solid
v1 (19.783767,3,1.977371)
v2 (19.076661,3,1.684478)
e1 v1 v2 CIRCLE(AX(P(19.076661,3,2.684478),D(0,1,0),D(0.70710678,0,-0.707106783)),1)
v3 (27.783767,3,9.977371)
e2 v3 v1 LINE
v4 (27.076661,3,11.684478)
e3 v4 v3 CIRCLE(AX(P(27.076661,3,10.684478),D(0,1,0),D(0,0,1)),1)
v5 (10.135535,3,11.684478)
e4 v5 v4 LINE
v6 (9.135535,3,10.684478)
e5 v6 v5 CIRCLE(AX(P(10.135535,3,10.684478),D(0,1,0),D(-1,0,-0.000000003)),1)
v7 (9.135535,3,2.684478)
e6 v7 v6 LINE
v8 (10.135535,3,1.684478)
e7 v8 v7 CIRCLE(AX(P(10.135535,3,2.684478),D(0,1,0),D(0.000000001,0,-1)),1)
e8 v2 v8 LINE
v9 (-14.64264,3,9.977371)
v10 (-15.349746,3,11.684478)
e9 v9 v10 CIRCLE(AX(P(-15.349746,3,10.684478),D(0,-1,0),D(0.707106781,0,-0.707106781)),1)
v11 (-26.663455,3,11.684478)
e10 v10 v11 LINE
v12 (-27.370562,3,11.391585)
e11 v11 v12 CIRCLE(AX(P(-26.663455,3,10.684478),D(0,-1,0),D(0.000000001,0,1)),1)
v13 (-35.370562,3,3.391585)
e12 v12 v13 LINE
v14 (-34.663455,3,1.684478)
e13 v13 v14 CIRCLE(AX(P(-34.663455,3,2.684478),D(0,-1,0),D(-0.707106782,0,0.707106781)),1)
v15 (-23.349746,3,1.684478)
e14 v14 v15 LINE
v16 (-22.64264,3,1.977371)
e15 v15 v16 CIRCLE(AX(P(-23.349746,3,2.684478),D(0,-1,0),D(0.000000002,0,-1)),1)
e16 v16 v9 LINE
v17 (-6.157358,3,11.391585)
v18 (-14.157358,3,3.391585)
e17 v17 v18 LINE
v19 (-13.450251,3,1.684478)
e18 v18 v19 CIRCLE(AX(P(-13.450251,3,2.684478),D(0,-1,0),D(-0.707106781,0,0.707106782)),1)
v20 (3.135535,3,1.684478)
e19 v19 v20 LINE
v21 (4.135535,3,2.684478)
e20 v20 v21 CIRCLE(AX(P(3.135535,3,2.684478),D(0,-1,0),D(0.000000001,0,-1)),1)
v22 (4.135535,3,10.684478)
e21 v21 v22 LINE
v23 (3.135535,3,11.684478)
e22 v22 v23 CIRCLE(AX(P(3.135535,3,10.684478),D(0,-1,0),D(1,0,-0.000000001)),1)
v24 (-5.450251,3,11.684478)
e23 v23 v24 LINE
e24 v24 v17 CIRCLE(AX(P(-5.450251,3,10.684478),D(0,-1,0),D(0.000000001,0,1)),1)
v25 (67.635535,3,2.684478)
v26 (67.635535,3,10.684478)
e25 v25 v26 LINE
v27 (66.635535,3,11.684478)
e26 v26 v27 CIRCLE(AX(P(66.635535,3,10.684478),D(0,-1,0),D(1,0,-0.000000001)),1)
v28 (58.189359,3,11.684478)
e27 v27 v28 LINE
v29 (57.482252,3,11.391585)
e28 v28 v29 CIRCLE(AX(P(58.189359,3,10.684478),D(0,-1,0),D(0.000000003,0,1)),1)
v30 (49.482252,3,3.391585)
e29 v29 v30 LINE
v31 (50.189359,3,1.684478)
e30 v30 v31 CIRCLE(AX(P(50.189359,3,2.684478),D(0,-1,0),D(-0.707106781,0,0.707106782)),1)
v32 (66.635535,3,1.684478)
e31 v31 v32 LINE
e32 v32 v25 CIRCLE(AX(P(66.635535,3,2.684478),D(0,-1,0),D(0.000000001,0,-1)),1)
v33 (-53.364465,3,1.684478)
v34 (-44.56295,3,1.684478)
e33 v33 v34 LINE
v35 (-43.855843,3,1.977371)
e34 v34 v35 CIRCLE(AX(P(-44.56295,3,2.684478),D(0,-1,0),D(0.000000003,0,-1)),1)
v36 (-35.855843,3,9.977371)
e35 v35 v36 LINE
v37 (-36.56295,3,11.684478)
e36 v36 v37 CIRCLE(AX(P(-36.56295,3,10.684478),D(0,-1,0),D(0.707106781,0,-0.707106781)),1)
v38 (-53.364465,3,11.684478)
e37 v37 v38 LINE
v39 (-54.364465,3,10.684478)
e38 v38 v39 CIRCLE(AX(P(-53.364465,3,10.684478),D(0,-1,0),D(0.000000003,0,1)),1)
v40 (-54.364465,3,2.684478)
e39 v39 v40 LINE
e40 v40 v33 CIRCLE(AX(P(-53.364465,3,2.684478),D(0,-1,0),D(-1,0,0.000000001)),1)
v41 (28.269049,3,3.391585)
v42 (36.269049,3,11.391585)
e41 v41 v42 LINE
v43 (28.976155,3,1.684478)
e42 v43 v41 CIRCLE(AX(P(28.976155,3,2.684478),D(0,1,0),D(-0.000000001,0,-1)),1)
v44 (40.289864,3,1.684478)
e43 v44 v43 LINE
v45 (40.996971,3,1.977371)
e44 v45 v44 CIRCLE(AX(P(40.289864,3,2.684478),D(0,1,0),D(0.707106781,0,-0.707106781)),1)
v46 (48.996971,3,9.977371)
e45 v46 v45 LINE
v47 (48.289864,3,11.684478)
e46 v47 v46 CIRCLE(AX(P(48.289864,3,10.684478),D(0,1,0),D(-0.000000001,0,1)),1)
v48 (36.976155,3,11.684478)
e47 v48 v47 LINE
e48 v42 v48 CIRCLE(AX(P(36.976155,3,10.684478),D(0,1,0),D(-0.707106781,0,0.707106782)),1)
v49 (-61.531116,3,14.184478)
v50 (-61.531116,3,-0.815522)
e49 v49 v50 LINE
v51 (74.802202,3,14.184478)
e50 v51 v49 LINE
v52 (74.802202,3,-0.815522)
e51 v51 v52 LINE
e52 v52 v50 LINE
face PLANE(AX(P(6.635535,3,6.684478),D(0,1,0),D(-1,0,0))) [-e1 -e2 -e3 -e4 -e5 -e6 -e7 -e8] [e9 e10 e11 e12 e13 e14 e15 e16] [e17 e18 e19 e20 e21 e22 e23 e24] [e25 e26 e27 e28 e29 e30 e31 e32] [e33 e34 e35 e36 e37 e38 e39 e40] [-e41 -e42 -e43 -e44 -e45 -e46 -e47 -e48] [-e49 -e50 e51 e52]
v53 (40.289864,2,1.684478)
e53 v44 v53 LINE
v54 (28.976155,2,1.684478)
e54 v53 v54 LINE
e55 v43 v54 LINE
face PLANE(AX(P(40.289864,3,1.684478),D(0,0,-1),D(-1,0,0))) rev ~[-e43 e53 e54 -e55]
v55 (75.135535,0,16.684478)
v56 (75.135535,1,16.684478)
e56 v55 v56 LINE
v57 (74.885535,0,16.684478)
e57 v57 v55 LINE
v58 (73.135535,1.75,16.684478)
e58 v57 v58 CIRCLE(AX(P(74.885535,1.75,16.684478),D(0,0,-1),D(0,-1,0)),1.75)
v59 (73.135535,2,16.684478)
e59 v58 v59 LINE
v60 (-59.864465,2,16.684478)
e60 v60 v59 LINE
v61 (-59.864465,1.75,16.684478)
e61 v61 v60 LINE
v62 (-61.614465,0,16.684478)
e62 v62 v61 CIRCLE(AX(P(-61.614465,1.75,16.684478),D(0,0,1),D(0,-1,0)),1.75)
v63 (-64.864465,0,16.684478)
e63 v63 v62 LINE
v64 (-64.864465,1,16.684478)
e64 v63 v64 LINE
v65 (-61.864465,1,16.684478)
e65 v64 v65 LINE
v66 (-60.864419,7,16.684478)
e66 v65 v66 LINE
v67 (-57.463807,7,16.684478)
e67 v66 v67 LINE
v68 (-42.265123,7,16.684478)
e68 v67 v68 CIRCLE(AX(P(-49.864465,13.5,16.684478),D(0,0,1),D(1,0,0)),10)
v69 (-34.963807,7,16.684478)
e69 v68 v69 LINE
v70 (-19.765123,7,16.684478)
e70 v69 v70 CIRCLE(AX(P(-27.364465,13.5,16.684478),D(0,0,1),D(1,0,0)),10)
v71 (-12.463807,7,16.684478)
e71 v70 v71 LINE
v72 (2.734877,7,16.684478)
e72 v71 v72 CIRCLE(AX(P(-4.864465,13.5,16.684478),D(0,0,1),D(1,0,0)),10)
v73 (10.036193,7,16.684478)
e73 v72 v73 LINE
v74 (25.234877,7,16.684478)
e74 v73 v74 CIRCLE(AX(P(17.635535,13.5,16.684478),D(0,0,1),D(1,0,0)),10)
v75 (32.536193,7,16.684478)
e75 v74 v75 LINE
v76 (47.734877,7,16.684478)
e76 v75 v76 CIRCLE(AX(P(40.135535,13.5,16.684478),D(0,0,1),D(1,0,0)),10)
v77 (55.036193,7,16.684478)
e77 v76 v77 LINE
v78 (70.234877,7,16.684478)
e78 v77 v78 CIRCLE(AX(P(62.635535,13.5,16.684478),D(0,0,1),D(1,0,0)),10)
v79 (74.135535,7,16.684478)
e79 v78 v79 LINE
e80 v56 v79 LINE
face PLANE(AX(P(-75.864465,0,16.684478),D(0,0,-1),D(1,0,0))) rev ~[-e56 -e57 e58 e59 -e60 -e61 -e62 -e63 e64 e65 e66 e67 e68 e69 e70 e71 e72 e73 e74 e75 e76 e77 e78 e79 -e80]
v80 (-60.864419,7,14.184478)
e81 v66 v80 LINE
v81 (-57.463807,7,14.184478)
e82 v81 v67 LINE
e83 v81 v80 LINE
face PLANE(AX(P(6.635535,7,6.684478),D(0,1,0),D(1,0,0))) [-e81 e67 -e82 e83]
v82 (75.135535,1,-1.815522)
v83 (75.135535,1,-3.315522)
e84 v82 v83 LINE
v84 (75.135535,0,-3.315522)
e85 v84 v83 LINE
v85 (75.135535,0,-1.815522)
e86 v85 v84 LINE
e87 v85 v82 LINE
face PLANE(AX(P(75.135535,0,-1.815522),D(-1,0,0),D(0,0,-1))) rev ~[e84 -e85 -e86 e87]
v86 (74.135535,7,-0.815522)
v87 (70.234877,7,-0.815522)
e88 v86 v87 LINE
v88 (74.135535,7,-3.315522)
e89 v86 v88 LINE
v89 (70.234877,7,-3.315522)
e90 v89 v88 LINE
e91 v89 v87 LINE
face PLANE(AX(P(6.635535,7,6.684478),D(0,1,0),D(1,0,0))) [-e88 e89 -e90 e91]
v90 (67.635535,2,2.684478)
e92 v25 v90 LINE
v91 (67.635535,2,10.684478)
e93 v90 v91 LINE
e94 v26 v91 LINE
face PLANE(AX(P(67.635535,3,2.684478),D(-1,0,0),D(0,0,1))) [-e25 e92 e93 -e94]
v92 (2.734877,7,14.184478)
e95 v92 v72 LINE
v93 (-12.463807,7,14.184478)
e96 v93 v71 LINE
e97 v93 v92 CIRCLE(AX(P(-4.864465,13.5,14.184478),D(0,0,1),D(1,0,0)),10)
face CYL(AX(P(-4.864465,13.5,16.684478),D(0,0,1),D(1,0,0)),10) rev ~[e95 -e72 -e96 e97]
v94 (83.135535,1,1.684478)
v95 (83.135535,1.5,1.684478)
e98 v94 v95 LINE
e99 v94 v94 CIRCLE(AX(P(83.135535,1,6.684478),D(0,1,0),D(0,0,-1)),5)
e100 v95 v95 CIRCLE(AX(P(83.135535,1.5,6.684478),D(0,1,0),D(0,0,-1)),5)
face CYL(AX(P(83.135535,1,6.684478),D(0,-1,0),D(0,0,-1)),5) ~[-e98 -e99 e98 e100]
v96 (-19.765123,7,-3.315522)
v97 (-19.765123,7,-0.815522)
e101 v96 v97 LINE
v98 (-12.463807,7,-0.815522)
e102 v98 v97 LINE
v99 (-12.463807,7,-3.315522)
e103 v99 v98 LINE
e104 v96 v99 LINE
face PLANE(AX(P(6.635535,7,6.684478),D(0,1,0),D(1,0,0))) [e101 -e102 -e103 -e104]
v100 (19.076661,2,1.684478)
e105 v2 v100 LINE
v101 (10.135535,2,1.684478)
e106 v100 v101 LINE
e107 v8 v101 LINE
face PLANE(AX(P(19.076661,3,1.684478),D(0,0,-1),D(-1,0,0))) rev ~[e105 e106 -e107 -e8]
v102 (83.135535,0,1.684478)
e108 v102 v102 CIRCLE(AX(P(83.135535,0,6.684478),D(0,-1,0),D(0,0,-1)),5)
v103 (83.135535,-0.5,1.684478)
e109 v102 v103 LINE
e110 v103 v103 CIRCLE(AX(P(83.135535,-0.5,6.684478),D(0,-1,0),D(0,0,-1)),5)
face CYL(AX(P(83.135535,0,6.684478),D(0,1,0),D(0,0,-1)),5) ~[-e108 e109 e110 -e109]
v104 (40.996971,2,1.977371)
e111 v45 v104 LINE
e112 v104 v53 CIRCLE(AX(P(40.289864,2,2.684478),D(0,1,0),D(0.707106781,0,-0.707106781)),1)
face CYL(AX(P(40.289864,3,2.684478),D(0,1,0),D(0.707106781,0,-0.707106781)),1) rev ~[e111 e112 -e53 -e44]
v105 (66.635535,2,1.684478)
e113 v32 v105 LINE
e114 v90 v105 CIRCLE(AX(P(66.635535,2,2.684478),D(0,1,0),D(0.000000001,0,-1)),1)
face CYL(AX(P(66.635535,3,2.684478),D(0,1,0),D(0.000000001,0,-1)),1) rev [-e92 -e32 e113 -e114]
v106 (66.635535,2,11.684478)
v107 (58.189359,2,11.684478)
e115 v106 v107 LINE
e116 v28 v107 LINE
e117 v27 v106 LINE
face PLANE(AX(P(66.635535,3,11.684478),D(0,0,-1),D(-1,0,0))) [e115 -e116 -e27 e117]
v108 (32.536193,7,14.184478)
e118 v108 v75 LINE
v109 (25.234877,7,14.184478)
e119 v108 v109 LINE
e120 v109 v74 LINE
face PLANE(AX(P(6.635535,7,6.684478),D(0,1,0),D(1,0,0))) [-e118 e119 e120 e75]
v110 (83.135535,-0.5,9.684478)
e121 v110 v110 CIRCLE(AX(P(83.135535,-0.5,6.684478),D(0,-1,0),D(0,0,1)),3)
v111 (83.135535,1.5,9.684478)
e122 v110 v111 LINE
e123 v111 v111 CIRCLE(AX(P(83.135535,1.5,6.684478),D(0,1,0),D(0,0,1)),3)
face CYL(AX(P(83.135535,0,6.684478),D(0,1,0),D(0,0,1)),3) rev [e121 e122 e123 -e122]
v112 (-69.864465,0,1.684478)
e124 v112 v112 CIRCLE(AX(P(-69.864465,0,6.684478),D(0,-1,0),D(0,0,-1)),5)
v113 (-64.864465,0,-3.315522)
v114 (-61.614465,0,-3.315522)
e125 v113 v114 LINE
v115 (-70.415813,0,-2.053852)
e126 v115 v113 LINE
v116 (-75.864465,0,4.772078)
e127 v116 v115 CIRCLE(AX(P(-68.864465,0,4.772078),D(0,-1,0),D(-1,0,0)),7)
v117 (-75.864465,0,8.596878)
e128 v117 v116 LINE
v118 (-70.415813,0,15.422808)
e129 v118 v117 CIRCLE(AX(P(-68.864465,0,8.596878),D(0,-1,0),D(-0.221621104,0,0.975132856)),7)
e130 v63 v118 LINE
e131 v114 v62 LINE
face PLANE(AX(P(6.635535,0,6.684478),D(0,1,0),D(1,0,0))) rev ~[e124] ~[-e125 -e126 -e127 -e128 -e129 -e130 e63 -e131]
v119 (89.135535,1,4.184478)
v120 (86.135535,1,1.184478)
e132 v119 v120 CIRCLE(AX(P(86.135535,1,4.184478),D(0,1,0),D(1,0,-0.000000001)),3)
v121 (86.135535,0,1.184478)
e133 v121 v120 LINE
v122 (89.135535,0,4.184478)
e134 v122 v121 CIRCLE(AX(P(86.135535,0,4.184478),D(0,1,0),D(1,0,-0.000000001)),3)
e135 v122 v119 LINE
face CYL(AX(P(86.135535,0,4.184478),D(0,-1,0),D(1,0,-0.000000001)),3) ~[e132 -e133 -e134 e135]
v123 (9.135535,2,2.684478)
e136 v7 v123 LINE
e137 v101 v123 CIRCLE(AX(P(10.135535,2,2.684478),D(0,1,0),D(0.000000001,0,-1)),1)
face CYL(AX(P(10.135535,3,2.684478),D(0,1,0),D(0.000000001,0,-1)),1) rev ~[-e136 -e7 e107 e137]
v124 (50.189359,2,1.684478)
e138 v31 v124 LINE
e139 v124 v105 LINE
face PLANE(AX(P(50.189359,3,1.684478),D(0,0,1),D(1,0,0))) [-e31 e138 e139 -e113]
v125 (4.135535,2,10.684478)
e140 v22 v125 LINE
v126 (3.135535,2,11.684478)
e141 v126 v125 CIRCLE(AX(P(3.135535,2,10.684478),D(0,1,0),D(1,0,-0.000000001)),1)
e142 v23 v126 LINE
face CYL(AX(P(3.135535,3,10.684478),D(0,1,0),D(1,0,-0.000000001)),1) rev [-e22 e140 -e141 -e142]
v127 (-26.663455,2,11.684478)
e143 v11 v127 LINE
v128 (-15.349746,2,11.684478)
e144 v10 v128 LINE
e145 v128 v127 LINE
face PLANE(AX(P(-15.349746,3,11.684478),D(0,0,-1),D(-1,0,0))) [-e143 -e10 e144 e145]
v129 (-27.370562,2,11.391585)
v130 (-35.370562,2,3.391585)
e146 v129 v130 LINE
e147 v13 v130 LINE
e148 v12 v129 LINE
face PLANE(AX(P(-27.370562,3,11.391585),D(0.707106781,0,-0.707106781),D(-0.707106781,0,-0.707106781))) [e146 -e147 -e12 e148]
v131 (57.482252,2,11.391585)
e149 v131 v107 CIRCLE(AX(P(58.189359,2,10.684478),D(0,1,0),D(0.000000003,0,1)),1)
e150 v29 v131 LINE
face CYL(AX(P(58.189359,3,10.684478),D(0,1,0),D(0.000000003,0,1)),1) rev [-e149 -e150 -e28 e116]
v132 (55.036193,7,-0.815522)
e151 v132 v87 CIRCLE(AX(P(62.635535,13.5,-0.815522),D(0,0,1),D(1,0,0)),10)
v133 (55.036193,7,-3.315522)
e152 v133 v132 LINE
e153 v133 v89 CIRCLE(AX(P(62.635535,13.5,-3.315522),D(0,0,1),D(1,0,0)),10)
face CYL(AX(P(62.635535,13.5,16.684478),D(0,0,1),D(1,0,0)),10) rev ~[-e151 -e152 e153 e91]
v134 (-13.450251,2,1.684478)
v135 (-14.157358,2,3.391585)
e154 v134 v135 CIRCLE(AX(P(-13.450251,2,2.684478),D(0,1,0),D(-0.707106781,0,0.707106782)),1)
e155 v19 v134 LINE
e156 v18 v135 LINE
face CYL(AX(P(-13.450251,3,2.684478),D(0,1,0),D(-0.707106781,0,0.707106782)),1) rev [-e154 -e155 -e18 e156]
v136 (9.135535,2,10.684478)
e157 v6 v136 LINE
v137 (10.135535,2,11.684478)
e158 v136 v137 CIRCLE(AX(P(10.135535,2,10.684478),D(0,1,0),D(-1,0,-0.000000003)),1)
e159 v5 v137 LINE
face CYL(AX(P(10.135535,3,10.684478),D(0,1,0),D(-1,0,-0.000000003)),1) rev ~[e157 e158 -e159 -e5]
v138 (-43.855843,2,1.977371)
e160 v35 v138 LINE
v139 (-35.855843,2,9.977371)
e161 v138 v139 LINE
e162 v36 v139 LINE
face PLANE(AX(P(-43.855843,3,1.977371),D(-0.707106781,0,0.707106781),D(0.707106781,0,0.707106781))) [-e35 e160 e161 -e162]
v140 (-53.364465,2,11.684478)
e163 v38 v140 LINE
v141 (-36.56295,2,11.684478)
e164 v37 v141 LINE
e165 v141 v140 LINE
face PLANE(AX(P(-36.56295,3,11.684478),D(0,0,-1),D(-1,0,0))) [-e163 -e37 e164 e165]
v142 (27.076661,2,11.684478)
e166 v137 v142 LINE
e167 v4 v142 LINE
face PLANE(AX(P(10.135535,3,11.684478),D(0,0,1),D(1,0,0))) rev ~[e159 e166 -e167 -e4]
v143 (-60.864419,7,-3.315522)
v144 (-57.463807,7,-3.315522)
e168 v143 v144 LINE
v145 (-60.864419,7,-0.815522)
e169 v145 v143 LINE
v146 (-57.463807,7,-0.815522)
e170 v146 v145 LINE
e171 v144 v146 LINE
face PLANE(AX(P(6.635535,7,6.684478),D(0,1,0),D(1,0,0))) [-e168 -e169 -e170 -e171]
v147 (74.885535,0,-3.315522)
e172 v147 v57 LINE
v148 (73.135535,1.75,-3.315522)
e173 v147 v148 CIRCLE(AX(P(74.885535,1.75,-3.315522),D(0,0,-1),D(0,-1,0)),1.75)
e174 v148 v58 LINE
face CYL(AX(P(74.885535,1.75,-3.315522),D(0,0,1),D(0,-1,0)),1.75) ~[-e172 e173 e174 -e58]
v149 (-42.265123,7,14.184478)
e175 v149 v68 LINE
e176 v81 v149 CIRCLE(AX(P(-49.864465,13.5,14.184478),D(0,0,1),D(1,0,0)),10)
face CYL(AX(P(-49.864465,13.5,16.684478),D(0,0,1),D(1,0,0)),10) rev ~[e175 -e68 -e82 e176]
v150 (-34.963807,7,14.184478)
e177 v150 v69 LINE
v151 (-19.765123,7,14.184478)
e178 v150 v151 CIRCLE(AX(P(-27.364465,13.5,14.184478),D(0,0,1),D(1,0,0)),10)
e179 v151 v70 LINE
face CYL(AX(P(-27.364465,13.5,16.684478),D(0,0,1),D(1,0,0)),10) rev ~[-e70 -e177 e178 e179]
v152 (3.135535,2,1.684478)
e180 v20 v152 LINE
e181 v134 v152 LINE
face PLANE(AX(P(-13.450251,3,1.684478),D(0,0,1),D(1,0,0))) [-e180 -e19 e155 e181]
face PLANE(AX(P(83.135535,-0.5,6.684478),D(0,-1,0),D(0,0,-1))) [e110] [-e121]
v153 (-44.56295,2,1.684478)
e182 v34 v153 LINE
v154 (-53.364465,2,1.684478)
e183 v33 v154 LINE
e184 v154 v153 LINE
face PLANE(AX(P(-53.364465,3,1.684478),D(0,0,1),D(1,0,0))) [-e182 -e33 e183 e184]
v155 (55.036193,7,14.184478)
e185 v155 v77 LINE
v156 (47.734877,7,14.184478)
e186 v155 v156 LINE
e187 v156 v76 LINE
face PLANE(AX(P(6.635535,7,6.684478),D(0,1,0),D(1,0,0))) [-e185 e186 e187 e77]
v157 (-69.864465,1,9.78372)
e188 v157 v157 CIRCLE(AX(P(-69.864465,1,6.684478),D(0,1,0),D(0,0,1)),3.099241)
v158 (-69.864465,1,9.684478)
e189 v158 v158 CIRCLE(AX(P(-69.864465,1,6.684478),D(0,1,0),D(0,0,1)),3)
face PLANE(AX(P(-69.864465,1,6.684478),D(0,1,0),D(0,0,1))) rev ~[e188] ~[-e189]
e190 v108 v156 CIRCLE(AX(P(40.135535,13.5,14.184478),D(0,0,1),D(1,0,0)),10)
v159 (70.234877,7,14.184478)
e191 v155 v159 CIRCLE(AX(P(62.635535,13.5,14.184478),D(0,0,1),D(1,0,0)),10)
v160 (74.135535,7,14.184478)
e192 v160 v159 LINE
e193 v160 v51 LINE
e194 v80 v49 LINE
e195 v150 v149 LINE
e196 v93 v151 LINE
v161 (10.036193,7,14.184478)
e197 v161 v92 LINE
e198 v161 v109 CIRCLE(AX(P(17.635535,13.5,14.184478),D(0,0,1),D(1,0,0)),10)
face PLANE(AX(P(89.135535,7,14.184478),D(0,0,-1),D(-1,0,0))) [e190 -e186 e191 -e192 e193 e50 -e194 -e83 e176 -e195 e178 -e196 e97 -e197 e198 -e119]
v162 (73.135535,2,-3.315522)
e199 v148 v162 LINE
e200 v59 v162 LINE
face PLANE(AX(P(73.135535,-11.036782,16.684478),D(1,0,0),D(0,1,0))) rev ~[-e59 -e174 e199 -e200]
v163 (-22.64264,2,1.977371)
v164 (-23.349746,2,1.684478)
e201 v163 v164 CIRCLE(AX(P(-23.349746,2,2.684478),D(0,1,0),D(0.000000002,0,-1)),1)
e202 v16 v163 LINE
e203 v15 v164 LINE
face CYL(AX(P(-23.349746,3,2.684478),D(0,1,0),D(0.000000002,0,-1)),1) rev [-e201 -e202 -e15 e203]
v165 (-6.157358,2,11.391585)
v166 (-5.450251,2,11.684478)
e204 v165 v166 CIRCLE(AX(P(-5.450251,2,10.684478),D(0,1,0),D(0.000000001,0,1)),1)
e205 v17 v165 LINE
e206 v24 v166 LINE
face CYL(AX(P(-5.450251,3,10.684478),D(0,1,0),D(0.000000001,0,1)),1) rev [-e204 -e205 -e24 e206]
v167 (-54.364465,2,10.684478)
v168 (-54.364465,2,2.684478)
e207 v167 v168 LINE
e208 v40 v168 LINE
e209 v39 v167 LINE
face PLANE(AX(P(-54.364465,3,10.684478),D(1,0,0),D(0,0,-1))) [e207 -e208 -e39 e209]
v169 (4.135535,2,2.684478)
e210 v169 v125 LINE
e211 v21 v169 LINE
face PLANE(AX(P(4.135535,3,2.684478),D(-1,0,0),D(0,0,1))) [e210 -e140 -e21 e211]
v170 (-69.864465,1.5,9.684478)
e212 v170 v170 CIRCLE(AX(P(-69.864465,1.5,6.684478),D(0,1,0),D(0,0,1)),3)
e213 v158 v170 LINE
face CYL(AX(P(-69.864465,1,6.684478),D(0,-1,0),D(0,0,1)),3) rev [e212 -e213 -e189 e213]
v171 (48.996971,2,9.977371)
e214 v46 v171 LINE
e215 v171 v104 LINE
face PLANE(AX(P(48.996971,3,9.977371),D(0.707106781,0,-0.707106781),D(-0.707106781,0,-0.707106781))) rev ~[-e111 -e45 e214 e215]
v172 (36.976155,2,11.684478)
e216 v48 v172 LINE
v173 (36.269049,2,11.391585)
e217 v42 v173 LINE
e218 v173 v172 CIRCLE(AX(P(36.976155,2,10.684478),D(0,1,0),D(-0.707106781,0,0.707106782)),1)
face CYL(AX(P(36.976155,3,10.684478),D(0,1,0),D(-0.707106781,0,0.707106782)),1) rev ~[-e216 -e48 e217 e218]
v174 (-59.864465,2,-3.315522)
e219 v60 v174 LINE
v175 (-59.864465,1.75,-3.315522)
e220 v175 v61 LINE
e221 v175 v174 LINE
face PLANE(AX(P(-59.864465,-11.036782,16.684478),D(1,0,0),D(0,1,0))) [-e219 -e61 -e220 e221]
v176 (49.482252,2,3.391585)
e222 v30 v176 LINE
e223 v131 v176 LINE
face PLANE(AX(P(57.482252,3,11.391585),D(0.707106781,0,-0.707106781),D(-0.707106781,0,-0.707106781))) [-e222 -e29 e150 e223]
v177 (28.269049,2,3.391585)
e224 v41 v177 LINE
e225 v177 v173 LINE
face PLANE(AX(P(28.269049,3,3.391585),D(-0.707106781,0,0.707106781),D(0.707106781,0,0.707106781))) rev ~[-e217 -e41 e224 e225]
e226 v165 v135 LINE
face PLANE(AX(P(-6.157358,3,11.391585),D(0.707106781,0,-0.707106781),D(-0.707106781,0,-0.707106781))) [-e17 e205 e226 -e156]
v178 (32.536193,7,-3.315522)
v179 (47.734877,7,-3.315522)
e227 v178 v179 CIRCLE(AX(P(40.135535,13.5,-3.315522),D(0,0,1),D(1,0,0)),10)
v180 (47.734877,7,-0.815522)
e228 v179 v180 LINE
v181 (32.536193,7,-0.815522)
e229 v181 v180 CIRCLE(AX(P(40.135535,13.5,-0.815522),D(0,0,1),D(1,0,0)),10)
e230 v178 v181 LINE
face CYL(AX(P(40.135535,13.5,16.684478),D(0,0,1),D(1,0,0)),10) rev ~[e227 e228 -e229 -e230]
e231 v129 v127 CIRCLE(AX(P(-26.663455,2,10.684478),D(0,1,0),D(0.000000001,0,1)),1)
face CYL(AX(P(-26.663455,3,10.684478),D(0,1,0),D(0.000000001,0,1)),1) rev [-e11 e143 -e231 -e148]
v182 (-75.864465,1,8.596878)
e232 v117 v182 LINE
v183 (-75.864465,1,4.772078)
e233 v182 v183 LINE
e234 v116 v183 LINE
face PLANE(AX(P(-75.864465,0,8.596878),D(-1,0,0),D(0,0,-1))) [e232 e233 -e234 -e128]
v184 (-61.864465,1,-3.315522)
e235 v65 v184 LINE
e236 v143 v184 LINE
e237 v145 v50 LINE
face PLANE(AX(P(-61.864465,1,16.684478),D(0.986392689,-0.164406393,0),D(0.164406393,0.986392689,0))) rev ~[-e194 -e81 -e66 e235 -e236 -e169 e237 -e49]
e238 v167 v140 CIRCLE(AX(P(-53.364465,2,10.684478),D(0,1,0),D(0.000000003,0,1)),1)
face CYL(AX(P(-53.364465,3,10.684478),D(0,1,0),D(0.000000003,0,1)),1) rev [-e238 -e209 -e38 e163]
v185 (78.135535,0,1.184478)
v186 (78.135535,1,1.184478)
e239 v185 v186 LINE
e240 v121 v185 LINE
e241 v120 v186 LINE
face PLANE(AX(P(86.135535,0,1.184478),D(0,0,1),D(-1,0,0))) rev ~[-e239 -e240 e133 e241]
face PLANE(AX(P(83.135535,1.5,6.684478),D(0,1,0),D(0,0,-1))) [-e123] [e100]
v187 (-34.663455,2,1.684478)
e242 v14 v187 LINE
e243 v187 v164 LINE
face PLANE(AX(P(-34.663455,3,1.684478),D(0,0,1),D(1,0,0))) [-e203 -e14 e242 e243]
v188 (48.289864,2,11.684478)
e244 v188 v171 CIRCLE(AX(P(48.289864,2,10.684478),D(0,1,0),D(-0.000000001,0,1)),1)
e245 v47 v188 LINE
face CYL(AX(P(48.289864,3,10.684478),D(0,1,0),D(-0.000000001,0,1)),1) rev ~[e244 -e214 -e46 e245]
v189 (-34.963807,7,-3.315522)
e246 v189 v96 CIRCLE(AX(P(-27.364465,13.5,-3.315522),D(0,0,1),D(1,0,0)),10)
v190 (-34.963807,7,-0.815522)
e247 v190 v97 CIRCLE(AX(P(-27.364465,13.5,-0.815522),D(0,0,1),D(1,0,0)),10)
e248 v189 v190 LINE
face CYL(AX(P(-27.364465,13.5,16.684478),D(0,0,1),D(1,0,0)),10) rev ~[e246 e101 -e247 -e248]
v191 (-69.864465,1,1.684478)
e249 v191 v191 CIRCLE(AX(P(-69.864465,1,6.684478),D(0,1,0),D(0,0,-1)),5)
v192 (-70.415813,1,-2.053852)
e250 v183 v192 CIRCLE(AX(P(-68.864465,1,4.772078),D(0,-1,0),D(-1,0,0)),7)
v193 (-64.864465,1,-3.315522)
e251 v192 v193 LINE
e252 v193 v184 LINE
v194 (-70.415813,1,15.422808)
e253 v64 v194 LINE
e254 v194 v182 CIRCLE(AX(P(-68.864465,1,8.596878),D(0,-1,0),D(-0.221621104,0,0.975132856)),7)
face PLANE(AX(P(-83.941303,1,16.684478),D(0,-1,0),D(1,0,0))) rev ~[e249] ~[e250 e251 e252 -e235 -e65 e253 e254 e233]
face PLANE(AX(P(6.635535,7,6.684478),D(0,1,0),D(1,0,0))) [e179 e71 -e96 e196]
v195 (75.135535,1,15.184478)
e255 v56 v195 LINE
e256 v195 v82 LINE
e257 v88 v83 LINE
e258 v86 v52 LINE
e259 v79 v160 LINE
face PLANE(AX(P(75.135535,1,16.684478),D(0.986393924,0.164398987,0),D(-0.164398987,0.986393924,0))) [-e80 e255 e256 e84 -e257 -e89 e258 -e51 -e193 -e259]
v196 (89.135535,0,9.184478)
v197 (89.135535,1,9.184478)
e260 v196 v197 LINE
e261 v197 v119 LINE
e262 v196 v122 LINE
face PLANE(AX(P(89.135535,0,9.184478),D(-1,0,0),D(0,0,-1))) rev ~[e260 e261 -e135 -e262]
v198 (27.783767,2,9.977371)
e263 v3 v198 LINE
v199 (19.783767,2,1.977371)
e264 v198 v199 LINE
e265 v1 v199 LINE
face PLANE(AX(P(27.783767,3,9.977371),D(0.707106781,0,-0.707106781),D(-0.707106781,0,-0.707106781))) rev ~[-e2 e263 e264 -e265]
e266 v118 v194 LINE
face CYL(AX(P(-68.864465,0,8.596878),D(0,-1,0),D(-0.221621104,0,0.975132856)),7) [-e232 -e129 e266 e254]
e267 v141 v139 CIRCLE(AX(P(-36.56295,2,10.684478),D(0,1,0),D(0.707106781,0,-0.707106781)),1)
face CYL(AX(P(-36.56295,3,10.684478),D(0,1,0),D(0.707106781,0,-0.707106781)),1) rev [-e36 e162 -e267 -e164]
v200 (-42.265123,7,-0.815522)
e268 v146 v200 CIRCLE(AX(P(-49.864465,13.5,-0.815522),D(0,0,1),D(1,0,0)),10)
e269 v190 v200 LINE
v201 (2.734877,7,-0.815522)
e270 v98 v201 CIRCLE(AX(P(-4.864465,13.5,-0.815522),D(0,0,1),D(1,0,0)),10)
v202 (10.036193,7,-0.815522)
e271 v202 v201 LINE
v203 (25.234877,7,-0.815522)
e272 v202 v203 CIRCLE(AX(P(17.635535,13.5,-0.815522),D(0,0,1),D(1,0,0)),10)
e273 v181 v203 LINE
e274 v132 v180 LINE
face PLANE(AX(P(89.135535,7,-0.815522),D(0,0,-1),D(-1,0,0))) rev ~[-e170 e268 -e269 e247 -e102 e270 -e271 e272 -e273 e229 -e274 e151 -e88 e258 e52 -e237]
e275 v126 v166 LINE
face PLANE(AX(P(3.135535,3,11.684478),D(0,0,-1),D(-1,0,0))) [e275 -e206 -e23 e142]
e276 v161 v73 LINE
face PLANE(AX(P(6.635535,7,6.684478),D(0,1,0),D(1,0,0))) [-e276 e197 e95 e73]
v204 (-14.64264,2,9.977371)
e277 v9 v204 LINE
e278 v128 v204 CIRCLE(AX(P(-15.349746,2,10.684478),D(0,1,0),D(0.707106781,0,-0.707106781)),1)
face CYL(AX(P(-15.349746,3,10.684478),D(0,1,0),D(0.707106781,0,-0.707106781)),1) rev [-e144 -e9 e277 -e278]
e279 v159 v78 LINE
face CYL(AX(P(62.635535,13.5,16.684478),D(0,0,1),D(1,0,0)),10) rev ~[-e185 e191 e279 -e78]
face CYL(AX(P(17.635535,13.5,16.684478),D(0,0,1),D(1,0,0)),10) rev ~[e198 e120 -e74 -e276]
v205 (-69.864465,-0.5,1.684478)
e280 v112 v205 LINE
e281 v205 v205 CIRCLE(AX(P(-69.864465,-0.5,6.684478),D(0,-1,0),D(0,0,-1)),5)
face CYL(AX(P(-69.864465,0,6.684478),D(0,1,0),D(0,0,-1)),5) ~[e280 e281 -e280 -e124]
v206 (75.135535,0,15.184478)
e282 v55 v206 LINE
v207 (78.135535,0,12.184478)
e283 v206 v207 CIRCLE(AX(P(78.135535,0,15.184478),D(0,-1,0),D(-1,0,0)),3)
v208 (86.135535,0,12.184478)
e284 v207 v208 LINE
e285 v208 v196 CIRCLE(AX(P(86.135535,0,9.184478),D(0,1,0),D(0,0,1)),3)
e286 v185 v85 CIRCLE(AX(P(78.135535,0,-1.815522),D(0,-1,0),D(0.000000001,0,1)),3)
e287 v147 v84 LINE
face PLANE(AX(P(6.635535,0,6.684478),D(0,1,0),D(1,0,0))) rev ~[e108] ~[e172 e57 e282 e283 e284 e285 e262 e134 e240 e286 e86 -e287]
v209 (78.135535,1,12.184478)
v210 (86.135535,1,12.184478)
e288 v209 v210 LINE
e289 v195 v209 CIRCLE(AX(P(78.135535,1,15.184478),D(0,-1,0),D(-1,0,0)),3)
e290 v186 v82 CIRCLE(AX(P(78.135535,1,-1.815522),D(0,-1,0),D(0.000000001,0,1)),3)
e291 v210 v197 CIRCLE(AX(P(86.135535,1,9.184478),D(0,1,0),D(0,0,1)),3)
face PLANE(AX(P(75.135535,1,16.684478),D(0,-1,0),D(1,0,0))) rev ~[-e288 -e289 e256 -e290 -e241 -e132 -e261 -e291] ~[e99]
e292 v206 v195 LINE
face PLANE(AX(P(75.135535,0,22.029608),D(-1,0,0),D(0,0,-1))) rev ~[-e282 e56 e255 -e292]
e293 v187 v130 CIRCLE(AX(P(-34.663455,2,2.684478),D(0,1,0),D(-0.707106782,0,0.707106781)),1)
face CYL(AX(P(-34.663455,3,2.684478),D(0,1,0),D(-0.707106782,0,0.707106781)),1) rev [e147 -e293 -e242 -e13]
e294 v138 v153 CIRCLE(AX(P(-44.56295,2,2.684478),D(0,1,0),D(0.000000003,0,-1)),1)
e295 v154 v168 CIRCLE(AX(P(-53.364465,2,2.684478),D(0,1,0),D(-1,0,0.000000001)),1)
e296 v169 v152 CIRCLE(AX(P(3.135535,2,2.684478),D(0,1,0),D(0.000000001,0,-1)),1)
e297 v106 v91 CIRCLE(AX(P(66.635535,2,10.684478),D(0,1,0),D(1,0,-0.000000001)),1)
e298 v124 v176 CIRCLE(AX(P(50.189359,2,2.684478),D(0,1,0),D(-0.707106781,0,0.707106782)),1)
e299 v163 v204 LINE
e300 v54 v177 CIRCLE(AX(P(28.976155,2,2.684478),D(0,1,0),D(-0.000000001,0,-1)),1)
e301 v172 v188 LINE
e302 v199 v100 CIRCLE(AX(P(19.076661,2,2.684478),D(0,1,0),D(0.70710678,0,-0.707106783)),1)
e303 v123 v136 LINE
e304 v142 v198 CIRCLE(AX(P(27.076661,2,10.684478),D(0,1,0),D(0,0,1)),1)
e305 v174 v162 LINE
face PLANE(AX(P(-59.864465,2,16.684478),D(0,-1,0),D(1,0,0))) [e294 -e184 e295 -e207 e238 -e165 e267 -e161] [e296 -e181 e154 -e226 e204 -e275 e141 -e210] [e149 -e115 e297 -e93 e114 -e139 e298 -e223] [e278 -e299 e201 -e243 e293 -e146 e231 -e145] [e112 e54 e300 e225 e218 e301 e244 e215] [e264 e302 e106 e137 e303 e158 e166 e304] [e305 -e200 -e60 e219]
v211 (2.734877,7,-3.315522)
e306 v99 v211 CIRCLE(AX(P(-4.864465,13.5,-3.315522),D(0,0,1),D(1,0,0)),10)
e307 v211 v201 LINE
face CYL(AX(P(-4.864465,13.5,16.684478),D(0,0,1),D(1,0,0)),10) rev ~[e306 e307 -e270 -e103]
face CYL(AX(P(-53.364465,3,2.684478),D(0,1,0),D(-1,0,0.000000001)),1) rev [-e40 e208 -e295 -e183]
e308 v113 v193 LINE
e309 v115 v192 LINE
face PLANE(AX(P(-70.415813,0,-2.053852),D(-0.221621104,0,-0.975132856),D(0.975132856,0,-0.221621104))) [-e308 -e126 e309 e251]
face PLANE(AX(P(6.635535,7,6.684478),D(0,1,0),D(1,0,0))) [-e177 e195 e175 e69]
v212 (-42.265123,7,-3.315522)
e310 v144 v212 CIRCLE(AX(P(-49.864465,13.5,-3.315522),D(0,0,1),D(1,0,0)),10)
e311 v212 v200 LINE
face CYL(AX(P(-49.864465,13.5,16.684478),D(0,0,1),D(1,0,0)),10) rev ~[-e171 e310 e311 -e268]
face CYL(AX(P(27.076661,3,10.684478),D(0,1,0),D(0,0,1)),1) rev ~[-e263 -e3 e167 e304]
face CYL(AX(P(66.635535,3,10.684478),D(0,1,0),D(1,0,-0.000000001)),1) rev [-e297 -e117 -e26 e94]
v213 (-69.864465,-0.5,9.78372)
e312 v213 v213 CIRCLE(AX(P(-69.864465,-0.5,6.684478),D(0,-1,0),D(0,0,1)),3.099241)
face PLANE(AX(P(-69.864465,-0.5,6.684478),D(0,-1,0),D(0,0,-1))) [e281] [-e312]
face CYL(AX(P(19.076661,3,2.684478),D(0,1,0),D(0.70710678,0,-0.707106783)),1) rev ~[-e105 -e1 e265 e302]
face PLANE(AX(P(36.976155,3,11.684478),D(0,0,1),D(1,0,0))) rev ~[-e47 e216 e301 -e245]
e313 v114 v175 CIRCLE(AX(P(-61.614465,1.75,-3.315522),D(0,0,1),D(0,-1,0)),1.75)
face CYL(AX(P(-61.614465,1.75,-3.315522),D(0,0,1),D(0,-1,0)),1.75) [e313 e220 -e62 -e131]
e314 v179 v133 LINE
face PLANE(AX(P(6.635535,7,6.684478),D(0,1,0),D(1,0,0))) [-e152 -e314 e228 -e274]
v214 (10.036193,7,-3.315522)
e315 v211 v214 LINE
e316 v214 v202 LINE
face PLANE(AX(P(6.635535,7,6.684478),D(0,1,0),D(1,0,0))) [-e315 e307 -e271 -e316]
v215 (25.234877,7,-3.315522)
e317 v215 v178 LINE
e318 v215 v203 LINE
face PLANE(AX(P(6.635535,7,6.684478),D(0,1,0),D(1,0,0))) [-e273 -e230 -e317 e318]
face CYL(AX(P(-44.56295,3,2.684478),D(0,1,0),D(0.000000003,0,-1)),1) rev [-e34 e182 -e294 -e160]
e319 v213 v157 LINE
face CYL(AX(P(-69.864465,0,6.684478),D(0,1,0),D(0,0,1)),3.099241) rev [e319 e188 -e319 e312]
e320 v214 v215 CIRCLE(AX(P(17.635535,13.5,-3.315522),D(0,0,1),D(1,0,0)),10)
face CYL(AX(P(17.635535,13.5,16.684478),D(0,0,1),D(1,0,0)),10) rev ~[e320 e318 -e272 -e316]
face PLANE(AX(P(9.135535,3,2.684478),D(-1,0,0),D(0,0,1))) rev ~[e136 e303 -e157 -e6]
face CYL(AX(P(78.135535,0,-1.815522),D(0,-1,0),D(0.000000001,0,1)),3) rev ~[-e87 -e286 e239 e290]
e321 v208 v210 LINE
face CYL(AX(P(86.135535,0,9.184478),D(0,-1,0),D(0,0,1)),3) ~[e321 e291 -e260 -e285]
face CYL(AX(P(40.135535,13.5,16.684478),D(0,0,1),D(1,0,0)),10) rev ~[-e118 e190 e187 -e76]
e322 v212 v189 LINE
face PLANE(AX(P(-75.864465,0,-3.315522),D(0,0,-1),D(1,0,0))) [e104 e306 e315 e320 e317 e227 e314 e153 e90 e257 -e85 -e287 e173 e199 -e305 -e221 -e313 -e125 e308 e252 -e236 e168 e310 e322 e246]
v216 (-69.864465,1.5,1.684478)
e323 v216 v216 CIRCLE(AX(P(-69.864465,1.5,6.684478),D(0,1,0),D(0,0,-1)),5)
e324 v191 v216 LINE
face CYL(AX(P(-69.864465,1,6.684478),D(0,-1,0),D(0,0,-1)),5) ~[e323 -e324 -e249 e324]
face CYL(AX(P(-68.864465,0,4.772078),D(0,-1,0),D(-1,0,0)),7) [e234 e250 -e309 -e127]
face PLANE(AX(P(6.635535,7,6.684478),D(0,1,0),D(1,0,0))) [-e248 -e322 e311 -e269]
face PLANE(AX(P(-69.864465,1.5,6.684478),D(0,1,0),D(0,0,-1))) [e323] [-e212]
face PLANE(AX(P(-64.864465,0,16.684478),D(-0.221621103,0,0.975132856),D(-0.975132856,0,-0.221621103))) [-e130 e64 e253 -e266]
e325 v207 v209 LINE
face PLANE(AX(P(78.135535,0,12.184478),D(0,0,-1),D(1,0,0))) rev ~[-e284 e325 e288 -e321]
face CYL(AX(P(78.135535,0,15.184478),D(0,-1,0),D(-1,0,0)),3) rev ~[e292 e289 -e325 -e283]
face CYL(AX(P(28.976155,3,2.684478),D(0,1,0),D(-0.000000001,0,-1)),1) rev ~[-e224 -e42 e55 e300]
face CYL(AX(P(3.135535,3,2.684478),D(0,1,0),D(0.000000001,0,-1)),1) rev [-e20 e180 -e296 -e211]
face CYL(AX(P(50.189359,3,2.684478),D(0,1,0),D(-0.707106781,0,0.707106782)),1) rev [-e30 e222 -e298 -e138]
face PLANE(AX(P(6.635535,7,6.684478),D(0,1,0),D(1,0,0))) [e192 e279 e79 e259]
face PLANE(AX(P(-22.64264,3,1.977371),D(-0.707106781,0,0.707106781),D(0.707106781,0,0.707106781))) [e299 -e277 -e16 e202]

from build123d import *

# Parameters (mm, degrees)
SKETCH1_W           = 165
SKETCH1_H           = 20
EXTRUDE1_DEPTH      = 7
SKETCH2_W           = 165
SKETCH2_H           = 15
CUT_EXTRUDE2_DEPTH  = 4
CUT_EXTRUDE3_REACH  = 22
SKETCH3_W           = 22.076838398
SKETCH3_H           = 14.597093791
SKETCH3_W_2         = 22.076838397
SKETCH3_W_3         = 133
SKETCH3_H_2         = 13.03678166
SKETCH4_R           = 10
CUT_EXTRUDE4_DEPTH  = 21
LPATTERN1_COUNT     = 6
LPATTERN1_PITCH     = 22.5
CUT_EXTRUDE5_DEPTH  = 21
SKETCH6_R           = 5
SKETCH6_R_2         = 3
EXTRUDE2_DEPTH      = 0.5
CUT_EXTRUDE6_REACH  = 3
SKETCH7_R           = 3.099241347
CUT_EXTRUDE7_START  = -1
CUT_EXTRUDE7_DEPTH  = 1
SKETCH9_R           = 5
SKETCH9_R_2         = 3.099241347
EXTRUDE3_DEPTH      = 0.5
CUT_EXTRUDE8_REACH  = 3.5
SKETCH10_R          = 3
CUT_EXTRUDE9_START  = -1
CUT_EXTRUDE9_DEPTH  = 1
SKETCH12_R          = 5
SKETCH12_R_2        = 3
EXTRUDE4_DEPTH      = 0.5
SKETCH13_R          = 5
SKETCH13_R_2        = 3
EXTRUDE5_DEPTH      = 0.5
CUT_EXTRUDE10_REACH = 5.5
FILLET1_R           = 1.75


with BuildPart() as part:
    # Sketch1 → Extrude1 (new body)
    with BuildSketch(Plane(origin=(0, 0, 0), x_dir=(1, 0, 0), z_dir=(0, 1, 0))):
        with Locations((6.635535007, -6.684478203)):
            Rectangle(SKETCH1_W, SKETCH1_H)
    extrude(amount=EXTRUDE1_DEPTH)

    # Sketch2 → Cut-Extrude2 (cut)
    with BuildSketch(Plane(origin=(0, 7, 0), x_dir=(-1, 0, 0), z_dir=(0, 1, 0))):
        with Locations((-6.635535007, 6.684478203)):
            Rectangle(SKETCH2_W, SKETCH2_H)
    extrude(amount=-CUT_EXTRUDE2_DEPTH, mode=Mode.SUBTRACT)

    # Sketch3 → Cut-Extrude3 (cut, up to next)
    with BuildSketch(Plane.XY.offset(16.684478203), mode=Mode.PRIVATE) as cut_extrude3_sk1:
        with Locations((-72.902884192, 8.298546895)):
            Rectangle(SKETCH3_W, SKETCH3_H)
    cut_extrude3_tool1 = extrude(cut_extrude3_sk1.sketch, amount=-CUT_EXTRUDE3_REACH, mode=Mode.PRIVATE) & part.part
    add(cut_extrude3_tool1.solids().sort_by_distance((-72.902884, 8.298547, 16.684478))[0], mode=Mode.SUBTRACT)
    # Sketch3 → Cut-Extrude3 (cut, up to next)
    with BuildSketch(Plane.XY.offset(16.684478203), mode=Mode.PRIVATE) as cut_extrude3_sk2:
        with Locations((86.173954205, 8.298546895)):
            Rectangle(SKETCH3_W_2, SKETCH3_H)
    cut_extrude3_tool2 = extrude(cut_extrude3_sk2.sketch, amount=-CUT_EXTRUDE3_REACH, mode=Mode.PRIVATE) & part.part
    add(cut_extrude3_tool2.solids().sort_by_distance((86.173954, 8.298547, 16.684478))[0], mode=Mode.SUBTRACT)
    # Sketch3 → Cut-Extrude3 (cut, up to next)
    with BuildSketch(Plane.XY.offset(16.684478203), mode=Mode.PRIVATE) as cut_extrude3_sk3:
        with Locations((6.635535007, -4.51839083)):
            Rectangle(SKETCH3_W_3, SKETCH3_H_2)
    cut_extrude3_tool3 = extrude(cut_extrude3_sk3.sketch, amount=-CUT_EXTRUDE3_REACH, mode=Mode.PRIVATE) & part.part
    add(cut_extrude3_tool3.solids().sort_by_distance((6.635535, -4.518391, 16.684478))[0], mode=Mode.SUBTRACT)

    # Sketch4 → Cut-Extrude4 (cut, through all)
    with BuildSketch(Plane.XY.offset(16.684478203)):
        with Locations((-49.864464993, 13.5)):
            Circle(SKETCH4_R)
    cut_extrude4 = extrude(amount=-CUT_EXTRUDE4_DEPTH, mode=Mode.SUBTRACT)

    # LPattern1: Cut-Extrude4 ×6
    with Locations(*[(i * LPATTERN1_PITCH, 0, 0) for i in range(1, LPATTERN1_COUNT)]):
        add(cut_extrude4, mode=Mode.SUBTRACT)

    # Sketch5 → Cut-Extrude5 (cut, through all)
    with BuildSketch(Plane.XY.offset(16.684478203)):
        Polygon((-61.864464993, 1), (-60.864418693, 7), (-64.440232493, 7), align=None)
        Polygon((75.135535007, 1), (74.135535007, 7), (77.920607538, 7), align=None)
    extrude(amount=-CUT_EXTRUDE5_DEPTH, mode=Mode.SUBTRACT)

    # Sketch6 → Extrude2 (add)
    with BuildSketch(Plane(origin=(0, 1, 0), x_dir=(-1, 0, 0), z_dir=(0, 1, 0))):
        with Locations(Location((69.864464993, 6.684478203, 0), (0, 0, 270))):  # turned: the seam where the file's is
            Circle(SKETCH6_R)
        with Locations(Location((69.864464993, 6.684478203, 0), (0, 0, 90))):  # turned: the seam where the file's is
            Circle(SKETCH6_R_2, mode=Mode.SUBTRACT)
    extrude(amount=EXTRUDE2_DEPTH)

    # Sketch7 → Cut-Extrude6 (cut, up to next)
    with BuildSketch(Plane(origin=(0, 1, 0), x_dir=(-1, 0, 0), z_dir=(0, 1, 0)), mode=Mode.PRIVATE) as cut_extrude6_sk1:
        with Locations(Location((69.864464993, 6.684478203, 0), (0, 0, 90))):  # turned: the seam where the file's is
            Circle(SKETCH7_R)
    cut_extrude6_tool1 = extrude(cut_extrude6_sk1.sketch, amount=-CUT_EXTRUDE6_REACH, mode=Mode.PRIVATE) & part.part
    add(cut_extrude6_tool1.solids().sort_by_distance((-69.864465, 1, 6.684478))[0], mode=Mode.SUBTRACT)

    # Sketch8 → Cut-Extrude7 (cut)
    with BuildSketch(Plane(origin=(0, 1, 0), x_dir=(-1, 0, 0), z_dir=(0, 1, 0)).offset(CUT_EXTRUDE7_START)):
        with BuildLine():
            Line((64.864464993, -3.315521797), (75.864464993, -11.455388842))
            Line((75.864464993, -11.455388842), (88.934533006, -0.815521797))
            Line((88.934533006, -0.815521797), (80.368724017, 25.989433313))
            Line((80.368724017, 25.989433313), (64.864464993, 16.684478203))
            Line((64.864464993, 16.684478203), (70.415812719, 15.422808266))
            ThreePointArc((70.415812719, 15.422808266), (74.335270879, 12.963831786), (75.864464993, 8.596878275))
            Line((75.864464993, 8.596878275), (75.864464993, 4.772078132))
            ThreePointArc((75.864464993, 4.772078132), (74.335270879, 0.405124621), (70.415812719, -2.053851859))
            Line((70.415812719, -2.053851859), (64.864464993, -3.315521797))
        make_face()
    extrude(amount=CUT_EXTRUDE7_DEPTH, mode=Mode.SUBTRACT)

    # Sketch9 → Extrude3 (add)
    with BuildSketch(Plane.XZ):
        with Locations(Location((-69.864464993, 6.684478203, 0), (0, 0, 270))):  # turned: the seam where the file's is
            Circle(SKETCH9_R)
        with Locations(Location((-69.864464993, 6.684478203, 0), (0, 0, 90))):  # turned: the seam where the file's is
            Circle(SKETCH9_R_2, mode=Mode.SUBTRACT)
    extrude(amount=EXTRUDE3_DEPTH)

    # Sketch10 → Cut-Extrude8 (cut, up to next)
    with BuildSketch(Plane(origin=(0, 1, 0), x_dir=(-1, 0, 0), z_dir=(0, 1, 0)), mode=Mode.PRIVATE) as cut_extrude8_sk1:
        with Locations(Location((-83.135535007, 6.684478203, 0), (0, 0, 90))):  # turned: the seam where the file's is
            Circle(SKETCH10_R)
    cut_extrude8_tool1 = extrude(cut_extrude8_sk1.sketch, amount=-CUT_EXTRUDE8_REACH, mode=Mode.PRIVATE) & part.part
    add(cut_extrude8_tool1.solids().sort_by_distance((83.135535, 1, 6.684478))[0], mode=Mode.SUBTRACT)

    # Sketch11 → Cut-Extrude9 (cut)
    with BuildSketch(Plane(origin=(0, 1, 0), x_dir=(-1, 0, 0), z_dir=(0, 1, 0)).offset(CUT_EXTRUDE9_START)):
        with BuildLine():
            Line((-75.135535007, -8.660651572), (-98.596814131, -8.660651572))
            Line((-98.596814131, -8.660651572), (-98.596814131, 22.029607978))
            Line((-98.596814131, 22.029607978), (-75.135535007, 22.029607978))
            Line((-75.135535007, 22.029607978), (-75.135535007, 15.184478203))
            ThreePointArc((-75.135535007, 15.184478203), (-76.014214663, 13.06315786), (-78.135535007, 12.184478203))
            Line((-78.135535007, 12.184478203), (-86.135535007, 12.184478203))
            ThreePointArc((-86.135535007, 12.184478203), (-88.25685535, 11.305798547), (-89.135535007, 9.184478203))
            Line((-89.135535007, 9.184478203), (-89.135535007, 4.184478203))
            ThreePointArc((-89.135535007, 4.184478203), (-88.25685535, 2.06315786), (-86.135535007, 1.184478203))
            Line((-86.135535007, 1.184478203), (-78.135535007, 1.184478203))
            ThreePointArc((-78.135535007, 1.184478203), (-76.014214663, 0.305798547), (-75.135535007, -1.815521797))
            Line((-75.135535007, -1.815521797), (-75.135535007, -8.660651572))
        make_face()
    extrude(amount=CUT_EXTRUDE9_DEPTH, mode=Mode.SUBTRACT)

    # Sketch12 → Extrude4 (add)
    with BuildSketch(Plane(origin=(0, 1, 0), x_dir=(-1, 0, 0), z_dir=(0, 1, 0))):
        with Locations(Location((-83.135535007, 6.684478203, 0), (0, 0, 270))):  # turned: the seam where the file's is
            Circle(SKETCH12_R)
        with Locations(Location((-83.135535007, 6.684478203, 0), (0, 0, 90))):  # turned: the seam where the file's is
            Circle(SKETCH12_R_2, mode=Mode.SUBTRACT)
    extrude(amount=EXTRUDE4_DEPTH)

    # Sketch13 → Extrude5 (add)
    with BuildSketch(Plane.XZ):
        with Locations(Location((83.135535007, 6.684478203, 0), (0, 0, 270))):  # turned: the seam where the file's is
            Circle(SKETCH13_R)
        with Locations(Location((83.135535007, 6.684478203, 0), (0, 0, 90))):  # turned: the seam where the file's is
            Circle(SKETCH13_R_2, mode=Mode.SUBTRACT)
    extrude(amount=EXTRUDE5_DEPTH)

    # Sketch14 → Cut-Extrude10 (cut, up to next)
    with BuildSketch(Plane(origin=(0, 3, 0), x_dir=(-1, 0, 0), z_dir=(0, 1, 0)), mode=Mode.PRIVATE) as cut_extrude10_sk1:
        with BuildLine():
            Line((53.364464993, 1.684478203), (44.562949803, 1.684478203))
            ThreePointArc((44.562949803, 1.684478203), (44.180266371, 1.760598671), (43.855843022, 1.977371422))
            Line((43.855843022, 1.977371422), (35.855843022, 9.977371422))
            ThreePointArc((35.855843022, 9.977371422), (35.639070271, 11.067161636), (36.562949803, 11.684478203))
            Line((36.562949803, 11.684478203), (53.364464993, 11.684478203))
            ThreePointArc((53.364464993, 11.684478203), (54.071571775, 11.391584985), (54.364464993, 10.684478203))
            Line((54.364464993, 10.684478203), (54.364464993, 2.684478203))
            ThreePointArc((54.364464993, 2.684478203), (54.071571775, 1.977371422), (53.364464993, 1.684478203))
        make_face()
    cut_extrude10_tool1 = extrude(cut_extrude10_sk1.sketch, amount=-CUT_EXTRUDE10_REACH, mode=Mode.PRIVATE) & part.part
    add(cut_extrude10_tool1.solids().sort_by_distance((-46.553759, 3, 7.201578))[0], mode=Mode.SUBTRACT)
    # Sketch14 → Cut-Extrude10 (cut, up to next)
    with BuildSketch(Plane(origin=(0, 3, 0), x_dir=(-1, 0, 0), z_dir=(0, 1, 0)), mode=Mode.PRIVATE) as cut_extrude10_sk2:
        with BuildLine():
            Line((-67.635535007, 2.684478203), (-67.635535007, 10.684478203))
            ThreePointArc((-67.635535007, 10.684478203), (-67.342641788, 11.391584985), (-66.635535007, 11.684478203))
            Line((-66.635535007, 11.684478203), (-58.189358876, 11.684478203))
            ThreePointArc((-58.189358876, 11.684478203), (-57.806675443, 11.608357736), (-57.482252095, 11.391584985))
            Line((-57.482252095, 11.391584985), (-49.482252095, 3.391584985))
            ThreePointArc((-49.482252095, 3.391584985), (-49.265479343, 2.301794771), (-50.189358876, 1.684478203))
            Line((-50.189358876, 1.684478203), (-66.635535007, 1.684478203))
            ThreePointArc((-66.635535007, 1.684478203), (-67.342641788, 1.977371422), (-67.635535007, 2.684478203))
        make_face()
    cut_extrude10_tool2 = extrude(cut_extrude10_sk2.sketch, amount=-CUT_EXTRUDE10_REACH, mode=Mode.PRIVATE) & part.part
    add(cut_extrude10_tool2.solids().sort_by_distance((59.99659, 3, 6.154872))[0], mode=Mode.SUBTRACT)
    # Sketch14 → Cut-Extrude10 (cut, up to next)
    with BuildSketch(Plane(origin=(0, 3, 0), x_dir=(-1, 0, 0), z_dir=(0, 1, 0)), mode=Mode.PRIVATE) as cut_extrude10_sk3:
        with BuildLine():
            Line((-4.135535007, 2.684478203), (-4.135535007, 10.684478203))
            ThreePointArc((-4.135535007, 10.684478203), (-3.842641788, 11.391584985), (-3.135535007, 11.684478203))
            Line((-3.135535007, 11.684478203), (5.450251431, 11.684478203))
            ThreePointArc((5.450251431, 11.684478203), (5.832934863, 11.608357736), (6.157358212, 11.391584985))
            Line((6.157358212, 11.391584985), (14.157358212, 3.391584985))
            ThreePointArc((14.157358212, 3.391584985), (14.374130964, 2.301794771), (13.450251431, 1.684478203))
            Line((13.450251431, 1.684478203), (-3.135535007, 1.684478203))
            ThreePointArc((-3.135535007, 1.684478203), (-3.842641788, 1.977371422), (-4.135535007, 2.684478203))
        make_face()
    cut_extrude10_tool3 = extrude(cut_extrude10_sk3.sketch, amount=-CUT_EXTRUDE10_REACH, mode=Mode.PRIVATE) & part.part
    add(cut_extrude10_tool3.solids().sort_by_distance((-3.57086, 3, 6.159857))[0], mode=Mode.SUBTRACT)
    # Sketch14 → Cut-Extrude10 (cut, up to next)
    with BuildSketch(Plane(origin=(0, 3, 0), x_dir=(-1, 0, 0), z_dir=(0, 1, 0)), mode=Mode.PRIVATE) as cut_extrude10_sk4:
        with BuildLine():
            Line((-9.135535007, 2.684478203), (-9.135535007, 10.684478203))
            ThreePointArc((-9.135535007, 10.684478203), (-9.428428225, 11.391584985), (-10.135535007, 11.684478203))
            Line((-10.135535007, 11.684478203), (-27.076660504, 11.684478203))
            ThreePointArc((-27.076660504, 11.684478203), (-28.000540036, 11.067161636), (-27.783767285, 9.977371422))
            Line((-27.783767285, 9.977371422), (-19.783767285, 1.977371422))
            ThreePointArc((-19.783767285, 1.977371422), (-19.459343936, 1.760598671), (-19.076660504, 1.684478203))
            Line((-19.076660504, 1.684478203), (-10.135535007, 1.684478203))
            ThreePointArc((-10.135535007, 1.684478203), (-9.428428225, 1.977371422), (-9.135535007, 2.684478203))
        make_face()
    cut_extrude10_tool4 = extrude(cut_extrude10_sk4.sketch, amount=-CUT_EXTRUDE10_REACH, mode=Mode.PRIVATE) & part.part
    add(cut_extrude10_tool4.solids().sort_by_distance((17.013801, 3, 7.196824))[0], mode=Mode.SUBTRACT)
    # Sketch14 → Cut-Extrude10 (cut, up to next)
    with BuildSketch(Plane(origin=(0, 3, 0), x_dir=(-1, 0, 0), z_dir=(0, 1, 0)), mode=Mode.PRIVATE) as cut_extrude10_sk5:
        with BuildLine():
            Line((22.642639586, 1.977371422), (14.642639586, 9.977371422))
            ThreePointArc((14.642639586, 9.977371422), (14.425866835, 11.067161636), (15.349746368, 11.684478203))
            Line((15.349746368, 11.684478203), (26.663454867, 11.684478203))
            ThreePointArc((26.663454867, 11.684478203), (27.046138299, 11.608357736), (27.370561648, 11.391584985))
            Line((27.370561648, 11.391584985), (35.370561648, 3.391584985))
            ThreePointArc((35.370561648, 3.391584985), (35.587334399, 2.301794771), (34.663454867, 1.684478203))
            Line((34.663454867, 1.684478203), (23.349746368, 1.684478203))
            ThreePointArc((23.349746368, 1.684478203), (22.967062935, 1.760598671), (22.642639586, 1.977371422))
        make_face()
    cut_extrude10_tool5 = extrude(cut_extrude10_sk5.sketch, amount=-CUT_EXTRUDE10_REACH, mode=Mode.PRIVATE) & part.part
    add(cut_extrude10_tool5.solids().sort_by_distance((-25.006601, 3, 6.684478))[0], mode=Mode.SUBTRACT)
    # Sketch14 → Cut-Extrude10 (cut, up to next)
    with BuildSketch(Plane(origin=(0, 3, 0), x_dir=(-1, 0, 0), z_dir=(0, 1, 0)), mode=Mode.PRIVATE) as cut_extrude10_sk6:
        with BuildLine():
            Line((-28.269048659, 3.391584985), (-36.269048659, 11.391584985))
            ThreePointArc((-36.269048659, 11.391584985), (-36.593472008, 11.608357736), (-36.97615544, 11.684478203))
            Line((-36.97615544, 11.684478203), (-48.289863939, 11.684478203))
            ThreePointArc((-48.289863939, 11.684478203), (-49.213743472, 11.067161636), (-48.99697072, 9.977371422))
            Line((-48.99697072, 9.977371422), (-40.99697072, 1.977371422))
            ThreePointArc((-40.99697072, 1.977371422), (-40.672547372, 1.760598671), (-40.289863939, 1.684478203))
            Line((-40.289863939, 1.684478203), (-28.97615544, 1.684478203))
            ThreePointArc((-28.97615544, 1.684478203), (-28.052275908, 2.301794771), (-28.269048659, 3.391584985))
        make_face()
    cut_extrude10_tool6 = extrude(cut_extrude10_sk6.sketch, amount=-CUT_EXTRUDE10_REACH, mode=Mode.PRIVATE) & part.part
    add(cut_extrude10_tool6.solids().sort_by_distance((38.63301, 3, 6.684478))[0], mode=Mode.SUBTRACT)

    # Fillet1
    fillet1_edges = [part.edges().sort_by_distance(p)[0] for p in [
        (-59.864464993, 0, 6.684478203),
        (73.135535007, 0, 6.684478203),
    ]]
    fillet(fillet1_edges, radius=FILLET1_R)


solid = part.part
